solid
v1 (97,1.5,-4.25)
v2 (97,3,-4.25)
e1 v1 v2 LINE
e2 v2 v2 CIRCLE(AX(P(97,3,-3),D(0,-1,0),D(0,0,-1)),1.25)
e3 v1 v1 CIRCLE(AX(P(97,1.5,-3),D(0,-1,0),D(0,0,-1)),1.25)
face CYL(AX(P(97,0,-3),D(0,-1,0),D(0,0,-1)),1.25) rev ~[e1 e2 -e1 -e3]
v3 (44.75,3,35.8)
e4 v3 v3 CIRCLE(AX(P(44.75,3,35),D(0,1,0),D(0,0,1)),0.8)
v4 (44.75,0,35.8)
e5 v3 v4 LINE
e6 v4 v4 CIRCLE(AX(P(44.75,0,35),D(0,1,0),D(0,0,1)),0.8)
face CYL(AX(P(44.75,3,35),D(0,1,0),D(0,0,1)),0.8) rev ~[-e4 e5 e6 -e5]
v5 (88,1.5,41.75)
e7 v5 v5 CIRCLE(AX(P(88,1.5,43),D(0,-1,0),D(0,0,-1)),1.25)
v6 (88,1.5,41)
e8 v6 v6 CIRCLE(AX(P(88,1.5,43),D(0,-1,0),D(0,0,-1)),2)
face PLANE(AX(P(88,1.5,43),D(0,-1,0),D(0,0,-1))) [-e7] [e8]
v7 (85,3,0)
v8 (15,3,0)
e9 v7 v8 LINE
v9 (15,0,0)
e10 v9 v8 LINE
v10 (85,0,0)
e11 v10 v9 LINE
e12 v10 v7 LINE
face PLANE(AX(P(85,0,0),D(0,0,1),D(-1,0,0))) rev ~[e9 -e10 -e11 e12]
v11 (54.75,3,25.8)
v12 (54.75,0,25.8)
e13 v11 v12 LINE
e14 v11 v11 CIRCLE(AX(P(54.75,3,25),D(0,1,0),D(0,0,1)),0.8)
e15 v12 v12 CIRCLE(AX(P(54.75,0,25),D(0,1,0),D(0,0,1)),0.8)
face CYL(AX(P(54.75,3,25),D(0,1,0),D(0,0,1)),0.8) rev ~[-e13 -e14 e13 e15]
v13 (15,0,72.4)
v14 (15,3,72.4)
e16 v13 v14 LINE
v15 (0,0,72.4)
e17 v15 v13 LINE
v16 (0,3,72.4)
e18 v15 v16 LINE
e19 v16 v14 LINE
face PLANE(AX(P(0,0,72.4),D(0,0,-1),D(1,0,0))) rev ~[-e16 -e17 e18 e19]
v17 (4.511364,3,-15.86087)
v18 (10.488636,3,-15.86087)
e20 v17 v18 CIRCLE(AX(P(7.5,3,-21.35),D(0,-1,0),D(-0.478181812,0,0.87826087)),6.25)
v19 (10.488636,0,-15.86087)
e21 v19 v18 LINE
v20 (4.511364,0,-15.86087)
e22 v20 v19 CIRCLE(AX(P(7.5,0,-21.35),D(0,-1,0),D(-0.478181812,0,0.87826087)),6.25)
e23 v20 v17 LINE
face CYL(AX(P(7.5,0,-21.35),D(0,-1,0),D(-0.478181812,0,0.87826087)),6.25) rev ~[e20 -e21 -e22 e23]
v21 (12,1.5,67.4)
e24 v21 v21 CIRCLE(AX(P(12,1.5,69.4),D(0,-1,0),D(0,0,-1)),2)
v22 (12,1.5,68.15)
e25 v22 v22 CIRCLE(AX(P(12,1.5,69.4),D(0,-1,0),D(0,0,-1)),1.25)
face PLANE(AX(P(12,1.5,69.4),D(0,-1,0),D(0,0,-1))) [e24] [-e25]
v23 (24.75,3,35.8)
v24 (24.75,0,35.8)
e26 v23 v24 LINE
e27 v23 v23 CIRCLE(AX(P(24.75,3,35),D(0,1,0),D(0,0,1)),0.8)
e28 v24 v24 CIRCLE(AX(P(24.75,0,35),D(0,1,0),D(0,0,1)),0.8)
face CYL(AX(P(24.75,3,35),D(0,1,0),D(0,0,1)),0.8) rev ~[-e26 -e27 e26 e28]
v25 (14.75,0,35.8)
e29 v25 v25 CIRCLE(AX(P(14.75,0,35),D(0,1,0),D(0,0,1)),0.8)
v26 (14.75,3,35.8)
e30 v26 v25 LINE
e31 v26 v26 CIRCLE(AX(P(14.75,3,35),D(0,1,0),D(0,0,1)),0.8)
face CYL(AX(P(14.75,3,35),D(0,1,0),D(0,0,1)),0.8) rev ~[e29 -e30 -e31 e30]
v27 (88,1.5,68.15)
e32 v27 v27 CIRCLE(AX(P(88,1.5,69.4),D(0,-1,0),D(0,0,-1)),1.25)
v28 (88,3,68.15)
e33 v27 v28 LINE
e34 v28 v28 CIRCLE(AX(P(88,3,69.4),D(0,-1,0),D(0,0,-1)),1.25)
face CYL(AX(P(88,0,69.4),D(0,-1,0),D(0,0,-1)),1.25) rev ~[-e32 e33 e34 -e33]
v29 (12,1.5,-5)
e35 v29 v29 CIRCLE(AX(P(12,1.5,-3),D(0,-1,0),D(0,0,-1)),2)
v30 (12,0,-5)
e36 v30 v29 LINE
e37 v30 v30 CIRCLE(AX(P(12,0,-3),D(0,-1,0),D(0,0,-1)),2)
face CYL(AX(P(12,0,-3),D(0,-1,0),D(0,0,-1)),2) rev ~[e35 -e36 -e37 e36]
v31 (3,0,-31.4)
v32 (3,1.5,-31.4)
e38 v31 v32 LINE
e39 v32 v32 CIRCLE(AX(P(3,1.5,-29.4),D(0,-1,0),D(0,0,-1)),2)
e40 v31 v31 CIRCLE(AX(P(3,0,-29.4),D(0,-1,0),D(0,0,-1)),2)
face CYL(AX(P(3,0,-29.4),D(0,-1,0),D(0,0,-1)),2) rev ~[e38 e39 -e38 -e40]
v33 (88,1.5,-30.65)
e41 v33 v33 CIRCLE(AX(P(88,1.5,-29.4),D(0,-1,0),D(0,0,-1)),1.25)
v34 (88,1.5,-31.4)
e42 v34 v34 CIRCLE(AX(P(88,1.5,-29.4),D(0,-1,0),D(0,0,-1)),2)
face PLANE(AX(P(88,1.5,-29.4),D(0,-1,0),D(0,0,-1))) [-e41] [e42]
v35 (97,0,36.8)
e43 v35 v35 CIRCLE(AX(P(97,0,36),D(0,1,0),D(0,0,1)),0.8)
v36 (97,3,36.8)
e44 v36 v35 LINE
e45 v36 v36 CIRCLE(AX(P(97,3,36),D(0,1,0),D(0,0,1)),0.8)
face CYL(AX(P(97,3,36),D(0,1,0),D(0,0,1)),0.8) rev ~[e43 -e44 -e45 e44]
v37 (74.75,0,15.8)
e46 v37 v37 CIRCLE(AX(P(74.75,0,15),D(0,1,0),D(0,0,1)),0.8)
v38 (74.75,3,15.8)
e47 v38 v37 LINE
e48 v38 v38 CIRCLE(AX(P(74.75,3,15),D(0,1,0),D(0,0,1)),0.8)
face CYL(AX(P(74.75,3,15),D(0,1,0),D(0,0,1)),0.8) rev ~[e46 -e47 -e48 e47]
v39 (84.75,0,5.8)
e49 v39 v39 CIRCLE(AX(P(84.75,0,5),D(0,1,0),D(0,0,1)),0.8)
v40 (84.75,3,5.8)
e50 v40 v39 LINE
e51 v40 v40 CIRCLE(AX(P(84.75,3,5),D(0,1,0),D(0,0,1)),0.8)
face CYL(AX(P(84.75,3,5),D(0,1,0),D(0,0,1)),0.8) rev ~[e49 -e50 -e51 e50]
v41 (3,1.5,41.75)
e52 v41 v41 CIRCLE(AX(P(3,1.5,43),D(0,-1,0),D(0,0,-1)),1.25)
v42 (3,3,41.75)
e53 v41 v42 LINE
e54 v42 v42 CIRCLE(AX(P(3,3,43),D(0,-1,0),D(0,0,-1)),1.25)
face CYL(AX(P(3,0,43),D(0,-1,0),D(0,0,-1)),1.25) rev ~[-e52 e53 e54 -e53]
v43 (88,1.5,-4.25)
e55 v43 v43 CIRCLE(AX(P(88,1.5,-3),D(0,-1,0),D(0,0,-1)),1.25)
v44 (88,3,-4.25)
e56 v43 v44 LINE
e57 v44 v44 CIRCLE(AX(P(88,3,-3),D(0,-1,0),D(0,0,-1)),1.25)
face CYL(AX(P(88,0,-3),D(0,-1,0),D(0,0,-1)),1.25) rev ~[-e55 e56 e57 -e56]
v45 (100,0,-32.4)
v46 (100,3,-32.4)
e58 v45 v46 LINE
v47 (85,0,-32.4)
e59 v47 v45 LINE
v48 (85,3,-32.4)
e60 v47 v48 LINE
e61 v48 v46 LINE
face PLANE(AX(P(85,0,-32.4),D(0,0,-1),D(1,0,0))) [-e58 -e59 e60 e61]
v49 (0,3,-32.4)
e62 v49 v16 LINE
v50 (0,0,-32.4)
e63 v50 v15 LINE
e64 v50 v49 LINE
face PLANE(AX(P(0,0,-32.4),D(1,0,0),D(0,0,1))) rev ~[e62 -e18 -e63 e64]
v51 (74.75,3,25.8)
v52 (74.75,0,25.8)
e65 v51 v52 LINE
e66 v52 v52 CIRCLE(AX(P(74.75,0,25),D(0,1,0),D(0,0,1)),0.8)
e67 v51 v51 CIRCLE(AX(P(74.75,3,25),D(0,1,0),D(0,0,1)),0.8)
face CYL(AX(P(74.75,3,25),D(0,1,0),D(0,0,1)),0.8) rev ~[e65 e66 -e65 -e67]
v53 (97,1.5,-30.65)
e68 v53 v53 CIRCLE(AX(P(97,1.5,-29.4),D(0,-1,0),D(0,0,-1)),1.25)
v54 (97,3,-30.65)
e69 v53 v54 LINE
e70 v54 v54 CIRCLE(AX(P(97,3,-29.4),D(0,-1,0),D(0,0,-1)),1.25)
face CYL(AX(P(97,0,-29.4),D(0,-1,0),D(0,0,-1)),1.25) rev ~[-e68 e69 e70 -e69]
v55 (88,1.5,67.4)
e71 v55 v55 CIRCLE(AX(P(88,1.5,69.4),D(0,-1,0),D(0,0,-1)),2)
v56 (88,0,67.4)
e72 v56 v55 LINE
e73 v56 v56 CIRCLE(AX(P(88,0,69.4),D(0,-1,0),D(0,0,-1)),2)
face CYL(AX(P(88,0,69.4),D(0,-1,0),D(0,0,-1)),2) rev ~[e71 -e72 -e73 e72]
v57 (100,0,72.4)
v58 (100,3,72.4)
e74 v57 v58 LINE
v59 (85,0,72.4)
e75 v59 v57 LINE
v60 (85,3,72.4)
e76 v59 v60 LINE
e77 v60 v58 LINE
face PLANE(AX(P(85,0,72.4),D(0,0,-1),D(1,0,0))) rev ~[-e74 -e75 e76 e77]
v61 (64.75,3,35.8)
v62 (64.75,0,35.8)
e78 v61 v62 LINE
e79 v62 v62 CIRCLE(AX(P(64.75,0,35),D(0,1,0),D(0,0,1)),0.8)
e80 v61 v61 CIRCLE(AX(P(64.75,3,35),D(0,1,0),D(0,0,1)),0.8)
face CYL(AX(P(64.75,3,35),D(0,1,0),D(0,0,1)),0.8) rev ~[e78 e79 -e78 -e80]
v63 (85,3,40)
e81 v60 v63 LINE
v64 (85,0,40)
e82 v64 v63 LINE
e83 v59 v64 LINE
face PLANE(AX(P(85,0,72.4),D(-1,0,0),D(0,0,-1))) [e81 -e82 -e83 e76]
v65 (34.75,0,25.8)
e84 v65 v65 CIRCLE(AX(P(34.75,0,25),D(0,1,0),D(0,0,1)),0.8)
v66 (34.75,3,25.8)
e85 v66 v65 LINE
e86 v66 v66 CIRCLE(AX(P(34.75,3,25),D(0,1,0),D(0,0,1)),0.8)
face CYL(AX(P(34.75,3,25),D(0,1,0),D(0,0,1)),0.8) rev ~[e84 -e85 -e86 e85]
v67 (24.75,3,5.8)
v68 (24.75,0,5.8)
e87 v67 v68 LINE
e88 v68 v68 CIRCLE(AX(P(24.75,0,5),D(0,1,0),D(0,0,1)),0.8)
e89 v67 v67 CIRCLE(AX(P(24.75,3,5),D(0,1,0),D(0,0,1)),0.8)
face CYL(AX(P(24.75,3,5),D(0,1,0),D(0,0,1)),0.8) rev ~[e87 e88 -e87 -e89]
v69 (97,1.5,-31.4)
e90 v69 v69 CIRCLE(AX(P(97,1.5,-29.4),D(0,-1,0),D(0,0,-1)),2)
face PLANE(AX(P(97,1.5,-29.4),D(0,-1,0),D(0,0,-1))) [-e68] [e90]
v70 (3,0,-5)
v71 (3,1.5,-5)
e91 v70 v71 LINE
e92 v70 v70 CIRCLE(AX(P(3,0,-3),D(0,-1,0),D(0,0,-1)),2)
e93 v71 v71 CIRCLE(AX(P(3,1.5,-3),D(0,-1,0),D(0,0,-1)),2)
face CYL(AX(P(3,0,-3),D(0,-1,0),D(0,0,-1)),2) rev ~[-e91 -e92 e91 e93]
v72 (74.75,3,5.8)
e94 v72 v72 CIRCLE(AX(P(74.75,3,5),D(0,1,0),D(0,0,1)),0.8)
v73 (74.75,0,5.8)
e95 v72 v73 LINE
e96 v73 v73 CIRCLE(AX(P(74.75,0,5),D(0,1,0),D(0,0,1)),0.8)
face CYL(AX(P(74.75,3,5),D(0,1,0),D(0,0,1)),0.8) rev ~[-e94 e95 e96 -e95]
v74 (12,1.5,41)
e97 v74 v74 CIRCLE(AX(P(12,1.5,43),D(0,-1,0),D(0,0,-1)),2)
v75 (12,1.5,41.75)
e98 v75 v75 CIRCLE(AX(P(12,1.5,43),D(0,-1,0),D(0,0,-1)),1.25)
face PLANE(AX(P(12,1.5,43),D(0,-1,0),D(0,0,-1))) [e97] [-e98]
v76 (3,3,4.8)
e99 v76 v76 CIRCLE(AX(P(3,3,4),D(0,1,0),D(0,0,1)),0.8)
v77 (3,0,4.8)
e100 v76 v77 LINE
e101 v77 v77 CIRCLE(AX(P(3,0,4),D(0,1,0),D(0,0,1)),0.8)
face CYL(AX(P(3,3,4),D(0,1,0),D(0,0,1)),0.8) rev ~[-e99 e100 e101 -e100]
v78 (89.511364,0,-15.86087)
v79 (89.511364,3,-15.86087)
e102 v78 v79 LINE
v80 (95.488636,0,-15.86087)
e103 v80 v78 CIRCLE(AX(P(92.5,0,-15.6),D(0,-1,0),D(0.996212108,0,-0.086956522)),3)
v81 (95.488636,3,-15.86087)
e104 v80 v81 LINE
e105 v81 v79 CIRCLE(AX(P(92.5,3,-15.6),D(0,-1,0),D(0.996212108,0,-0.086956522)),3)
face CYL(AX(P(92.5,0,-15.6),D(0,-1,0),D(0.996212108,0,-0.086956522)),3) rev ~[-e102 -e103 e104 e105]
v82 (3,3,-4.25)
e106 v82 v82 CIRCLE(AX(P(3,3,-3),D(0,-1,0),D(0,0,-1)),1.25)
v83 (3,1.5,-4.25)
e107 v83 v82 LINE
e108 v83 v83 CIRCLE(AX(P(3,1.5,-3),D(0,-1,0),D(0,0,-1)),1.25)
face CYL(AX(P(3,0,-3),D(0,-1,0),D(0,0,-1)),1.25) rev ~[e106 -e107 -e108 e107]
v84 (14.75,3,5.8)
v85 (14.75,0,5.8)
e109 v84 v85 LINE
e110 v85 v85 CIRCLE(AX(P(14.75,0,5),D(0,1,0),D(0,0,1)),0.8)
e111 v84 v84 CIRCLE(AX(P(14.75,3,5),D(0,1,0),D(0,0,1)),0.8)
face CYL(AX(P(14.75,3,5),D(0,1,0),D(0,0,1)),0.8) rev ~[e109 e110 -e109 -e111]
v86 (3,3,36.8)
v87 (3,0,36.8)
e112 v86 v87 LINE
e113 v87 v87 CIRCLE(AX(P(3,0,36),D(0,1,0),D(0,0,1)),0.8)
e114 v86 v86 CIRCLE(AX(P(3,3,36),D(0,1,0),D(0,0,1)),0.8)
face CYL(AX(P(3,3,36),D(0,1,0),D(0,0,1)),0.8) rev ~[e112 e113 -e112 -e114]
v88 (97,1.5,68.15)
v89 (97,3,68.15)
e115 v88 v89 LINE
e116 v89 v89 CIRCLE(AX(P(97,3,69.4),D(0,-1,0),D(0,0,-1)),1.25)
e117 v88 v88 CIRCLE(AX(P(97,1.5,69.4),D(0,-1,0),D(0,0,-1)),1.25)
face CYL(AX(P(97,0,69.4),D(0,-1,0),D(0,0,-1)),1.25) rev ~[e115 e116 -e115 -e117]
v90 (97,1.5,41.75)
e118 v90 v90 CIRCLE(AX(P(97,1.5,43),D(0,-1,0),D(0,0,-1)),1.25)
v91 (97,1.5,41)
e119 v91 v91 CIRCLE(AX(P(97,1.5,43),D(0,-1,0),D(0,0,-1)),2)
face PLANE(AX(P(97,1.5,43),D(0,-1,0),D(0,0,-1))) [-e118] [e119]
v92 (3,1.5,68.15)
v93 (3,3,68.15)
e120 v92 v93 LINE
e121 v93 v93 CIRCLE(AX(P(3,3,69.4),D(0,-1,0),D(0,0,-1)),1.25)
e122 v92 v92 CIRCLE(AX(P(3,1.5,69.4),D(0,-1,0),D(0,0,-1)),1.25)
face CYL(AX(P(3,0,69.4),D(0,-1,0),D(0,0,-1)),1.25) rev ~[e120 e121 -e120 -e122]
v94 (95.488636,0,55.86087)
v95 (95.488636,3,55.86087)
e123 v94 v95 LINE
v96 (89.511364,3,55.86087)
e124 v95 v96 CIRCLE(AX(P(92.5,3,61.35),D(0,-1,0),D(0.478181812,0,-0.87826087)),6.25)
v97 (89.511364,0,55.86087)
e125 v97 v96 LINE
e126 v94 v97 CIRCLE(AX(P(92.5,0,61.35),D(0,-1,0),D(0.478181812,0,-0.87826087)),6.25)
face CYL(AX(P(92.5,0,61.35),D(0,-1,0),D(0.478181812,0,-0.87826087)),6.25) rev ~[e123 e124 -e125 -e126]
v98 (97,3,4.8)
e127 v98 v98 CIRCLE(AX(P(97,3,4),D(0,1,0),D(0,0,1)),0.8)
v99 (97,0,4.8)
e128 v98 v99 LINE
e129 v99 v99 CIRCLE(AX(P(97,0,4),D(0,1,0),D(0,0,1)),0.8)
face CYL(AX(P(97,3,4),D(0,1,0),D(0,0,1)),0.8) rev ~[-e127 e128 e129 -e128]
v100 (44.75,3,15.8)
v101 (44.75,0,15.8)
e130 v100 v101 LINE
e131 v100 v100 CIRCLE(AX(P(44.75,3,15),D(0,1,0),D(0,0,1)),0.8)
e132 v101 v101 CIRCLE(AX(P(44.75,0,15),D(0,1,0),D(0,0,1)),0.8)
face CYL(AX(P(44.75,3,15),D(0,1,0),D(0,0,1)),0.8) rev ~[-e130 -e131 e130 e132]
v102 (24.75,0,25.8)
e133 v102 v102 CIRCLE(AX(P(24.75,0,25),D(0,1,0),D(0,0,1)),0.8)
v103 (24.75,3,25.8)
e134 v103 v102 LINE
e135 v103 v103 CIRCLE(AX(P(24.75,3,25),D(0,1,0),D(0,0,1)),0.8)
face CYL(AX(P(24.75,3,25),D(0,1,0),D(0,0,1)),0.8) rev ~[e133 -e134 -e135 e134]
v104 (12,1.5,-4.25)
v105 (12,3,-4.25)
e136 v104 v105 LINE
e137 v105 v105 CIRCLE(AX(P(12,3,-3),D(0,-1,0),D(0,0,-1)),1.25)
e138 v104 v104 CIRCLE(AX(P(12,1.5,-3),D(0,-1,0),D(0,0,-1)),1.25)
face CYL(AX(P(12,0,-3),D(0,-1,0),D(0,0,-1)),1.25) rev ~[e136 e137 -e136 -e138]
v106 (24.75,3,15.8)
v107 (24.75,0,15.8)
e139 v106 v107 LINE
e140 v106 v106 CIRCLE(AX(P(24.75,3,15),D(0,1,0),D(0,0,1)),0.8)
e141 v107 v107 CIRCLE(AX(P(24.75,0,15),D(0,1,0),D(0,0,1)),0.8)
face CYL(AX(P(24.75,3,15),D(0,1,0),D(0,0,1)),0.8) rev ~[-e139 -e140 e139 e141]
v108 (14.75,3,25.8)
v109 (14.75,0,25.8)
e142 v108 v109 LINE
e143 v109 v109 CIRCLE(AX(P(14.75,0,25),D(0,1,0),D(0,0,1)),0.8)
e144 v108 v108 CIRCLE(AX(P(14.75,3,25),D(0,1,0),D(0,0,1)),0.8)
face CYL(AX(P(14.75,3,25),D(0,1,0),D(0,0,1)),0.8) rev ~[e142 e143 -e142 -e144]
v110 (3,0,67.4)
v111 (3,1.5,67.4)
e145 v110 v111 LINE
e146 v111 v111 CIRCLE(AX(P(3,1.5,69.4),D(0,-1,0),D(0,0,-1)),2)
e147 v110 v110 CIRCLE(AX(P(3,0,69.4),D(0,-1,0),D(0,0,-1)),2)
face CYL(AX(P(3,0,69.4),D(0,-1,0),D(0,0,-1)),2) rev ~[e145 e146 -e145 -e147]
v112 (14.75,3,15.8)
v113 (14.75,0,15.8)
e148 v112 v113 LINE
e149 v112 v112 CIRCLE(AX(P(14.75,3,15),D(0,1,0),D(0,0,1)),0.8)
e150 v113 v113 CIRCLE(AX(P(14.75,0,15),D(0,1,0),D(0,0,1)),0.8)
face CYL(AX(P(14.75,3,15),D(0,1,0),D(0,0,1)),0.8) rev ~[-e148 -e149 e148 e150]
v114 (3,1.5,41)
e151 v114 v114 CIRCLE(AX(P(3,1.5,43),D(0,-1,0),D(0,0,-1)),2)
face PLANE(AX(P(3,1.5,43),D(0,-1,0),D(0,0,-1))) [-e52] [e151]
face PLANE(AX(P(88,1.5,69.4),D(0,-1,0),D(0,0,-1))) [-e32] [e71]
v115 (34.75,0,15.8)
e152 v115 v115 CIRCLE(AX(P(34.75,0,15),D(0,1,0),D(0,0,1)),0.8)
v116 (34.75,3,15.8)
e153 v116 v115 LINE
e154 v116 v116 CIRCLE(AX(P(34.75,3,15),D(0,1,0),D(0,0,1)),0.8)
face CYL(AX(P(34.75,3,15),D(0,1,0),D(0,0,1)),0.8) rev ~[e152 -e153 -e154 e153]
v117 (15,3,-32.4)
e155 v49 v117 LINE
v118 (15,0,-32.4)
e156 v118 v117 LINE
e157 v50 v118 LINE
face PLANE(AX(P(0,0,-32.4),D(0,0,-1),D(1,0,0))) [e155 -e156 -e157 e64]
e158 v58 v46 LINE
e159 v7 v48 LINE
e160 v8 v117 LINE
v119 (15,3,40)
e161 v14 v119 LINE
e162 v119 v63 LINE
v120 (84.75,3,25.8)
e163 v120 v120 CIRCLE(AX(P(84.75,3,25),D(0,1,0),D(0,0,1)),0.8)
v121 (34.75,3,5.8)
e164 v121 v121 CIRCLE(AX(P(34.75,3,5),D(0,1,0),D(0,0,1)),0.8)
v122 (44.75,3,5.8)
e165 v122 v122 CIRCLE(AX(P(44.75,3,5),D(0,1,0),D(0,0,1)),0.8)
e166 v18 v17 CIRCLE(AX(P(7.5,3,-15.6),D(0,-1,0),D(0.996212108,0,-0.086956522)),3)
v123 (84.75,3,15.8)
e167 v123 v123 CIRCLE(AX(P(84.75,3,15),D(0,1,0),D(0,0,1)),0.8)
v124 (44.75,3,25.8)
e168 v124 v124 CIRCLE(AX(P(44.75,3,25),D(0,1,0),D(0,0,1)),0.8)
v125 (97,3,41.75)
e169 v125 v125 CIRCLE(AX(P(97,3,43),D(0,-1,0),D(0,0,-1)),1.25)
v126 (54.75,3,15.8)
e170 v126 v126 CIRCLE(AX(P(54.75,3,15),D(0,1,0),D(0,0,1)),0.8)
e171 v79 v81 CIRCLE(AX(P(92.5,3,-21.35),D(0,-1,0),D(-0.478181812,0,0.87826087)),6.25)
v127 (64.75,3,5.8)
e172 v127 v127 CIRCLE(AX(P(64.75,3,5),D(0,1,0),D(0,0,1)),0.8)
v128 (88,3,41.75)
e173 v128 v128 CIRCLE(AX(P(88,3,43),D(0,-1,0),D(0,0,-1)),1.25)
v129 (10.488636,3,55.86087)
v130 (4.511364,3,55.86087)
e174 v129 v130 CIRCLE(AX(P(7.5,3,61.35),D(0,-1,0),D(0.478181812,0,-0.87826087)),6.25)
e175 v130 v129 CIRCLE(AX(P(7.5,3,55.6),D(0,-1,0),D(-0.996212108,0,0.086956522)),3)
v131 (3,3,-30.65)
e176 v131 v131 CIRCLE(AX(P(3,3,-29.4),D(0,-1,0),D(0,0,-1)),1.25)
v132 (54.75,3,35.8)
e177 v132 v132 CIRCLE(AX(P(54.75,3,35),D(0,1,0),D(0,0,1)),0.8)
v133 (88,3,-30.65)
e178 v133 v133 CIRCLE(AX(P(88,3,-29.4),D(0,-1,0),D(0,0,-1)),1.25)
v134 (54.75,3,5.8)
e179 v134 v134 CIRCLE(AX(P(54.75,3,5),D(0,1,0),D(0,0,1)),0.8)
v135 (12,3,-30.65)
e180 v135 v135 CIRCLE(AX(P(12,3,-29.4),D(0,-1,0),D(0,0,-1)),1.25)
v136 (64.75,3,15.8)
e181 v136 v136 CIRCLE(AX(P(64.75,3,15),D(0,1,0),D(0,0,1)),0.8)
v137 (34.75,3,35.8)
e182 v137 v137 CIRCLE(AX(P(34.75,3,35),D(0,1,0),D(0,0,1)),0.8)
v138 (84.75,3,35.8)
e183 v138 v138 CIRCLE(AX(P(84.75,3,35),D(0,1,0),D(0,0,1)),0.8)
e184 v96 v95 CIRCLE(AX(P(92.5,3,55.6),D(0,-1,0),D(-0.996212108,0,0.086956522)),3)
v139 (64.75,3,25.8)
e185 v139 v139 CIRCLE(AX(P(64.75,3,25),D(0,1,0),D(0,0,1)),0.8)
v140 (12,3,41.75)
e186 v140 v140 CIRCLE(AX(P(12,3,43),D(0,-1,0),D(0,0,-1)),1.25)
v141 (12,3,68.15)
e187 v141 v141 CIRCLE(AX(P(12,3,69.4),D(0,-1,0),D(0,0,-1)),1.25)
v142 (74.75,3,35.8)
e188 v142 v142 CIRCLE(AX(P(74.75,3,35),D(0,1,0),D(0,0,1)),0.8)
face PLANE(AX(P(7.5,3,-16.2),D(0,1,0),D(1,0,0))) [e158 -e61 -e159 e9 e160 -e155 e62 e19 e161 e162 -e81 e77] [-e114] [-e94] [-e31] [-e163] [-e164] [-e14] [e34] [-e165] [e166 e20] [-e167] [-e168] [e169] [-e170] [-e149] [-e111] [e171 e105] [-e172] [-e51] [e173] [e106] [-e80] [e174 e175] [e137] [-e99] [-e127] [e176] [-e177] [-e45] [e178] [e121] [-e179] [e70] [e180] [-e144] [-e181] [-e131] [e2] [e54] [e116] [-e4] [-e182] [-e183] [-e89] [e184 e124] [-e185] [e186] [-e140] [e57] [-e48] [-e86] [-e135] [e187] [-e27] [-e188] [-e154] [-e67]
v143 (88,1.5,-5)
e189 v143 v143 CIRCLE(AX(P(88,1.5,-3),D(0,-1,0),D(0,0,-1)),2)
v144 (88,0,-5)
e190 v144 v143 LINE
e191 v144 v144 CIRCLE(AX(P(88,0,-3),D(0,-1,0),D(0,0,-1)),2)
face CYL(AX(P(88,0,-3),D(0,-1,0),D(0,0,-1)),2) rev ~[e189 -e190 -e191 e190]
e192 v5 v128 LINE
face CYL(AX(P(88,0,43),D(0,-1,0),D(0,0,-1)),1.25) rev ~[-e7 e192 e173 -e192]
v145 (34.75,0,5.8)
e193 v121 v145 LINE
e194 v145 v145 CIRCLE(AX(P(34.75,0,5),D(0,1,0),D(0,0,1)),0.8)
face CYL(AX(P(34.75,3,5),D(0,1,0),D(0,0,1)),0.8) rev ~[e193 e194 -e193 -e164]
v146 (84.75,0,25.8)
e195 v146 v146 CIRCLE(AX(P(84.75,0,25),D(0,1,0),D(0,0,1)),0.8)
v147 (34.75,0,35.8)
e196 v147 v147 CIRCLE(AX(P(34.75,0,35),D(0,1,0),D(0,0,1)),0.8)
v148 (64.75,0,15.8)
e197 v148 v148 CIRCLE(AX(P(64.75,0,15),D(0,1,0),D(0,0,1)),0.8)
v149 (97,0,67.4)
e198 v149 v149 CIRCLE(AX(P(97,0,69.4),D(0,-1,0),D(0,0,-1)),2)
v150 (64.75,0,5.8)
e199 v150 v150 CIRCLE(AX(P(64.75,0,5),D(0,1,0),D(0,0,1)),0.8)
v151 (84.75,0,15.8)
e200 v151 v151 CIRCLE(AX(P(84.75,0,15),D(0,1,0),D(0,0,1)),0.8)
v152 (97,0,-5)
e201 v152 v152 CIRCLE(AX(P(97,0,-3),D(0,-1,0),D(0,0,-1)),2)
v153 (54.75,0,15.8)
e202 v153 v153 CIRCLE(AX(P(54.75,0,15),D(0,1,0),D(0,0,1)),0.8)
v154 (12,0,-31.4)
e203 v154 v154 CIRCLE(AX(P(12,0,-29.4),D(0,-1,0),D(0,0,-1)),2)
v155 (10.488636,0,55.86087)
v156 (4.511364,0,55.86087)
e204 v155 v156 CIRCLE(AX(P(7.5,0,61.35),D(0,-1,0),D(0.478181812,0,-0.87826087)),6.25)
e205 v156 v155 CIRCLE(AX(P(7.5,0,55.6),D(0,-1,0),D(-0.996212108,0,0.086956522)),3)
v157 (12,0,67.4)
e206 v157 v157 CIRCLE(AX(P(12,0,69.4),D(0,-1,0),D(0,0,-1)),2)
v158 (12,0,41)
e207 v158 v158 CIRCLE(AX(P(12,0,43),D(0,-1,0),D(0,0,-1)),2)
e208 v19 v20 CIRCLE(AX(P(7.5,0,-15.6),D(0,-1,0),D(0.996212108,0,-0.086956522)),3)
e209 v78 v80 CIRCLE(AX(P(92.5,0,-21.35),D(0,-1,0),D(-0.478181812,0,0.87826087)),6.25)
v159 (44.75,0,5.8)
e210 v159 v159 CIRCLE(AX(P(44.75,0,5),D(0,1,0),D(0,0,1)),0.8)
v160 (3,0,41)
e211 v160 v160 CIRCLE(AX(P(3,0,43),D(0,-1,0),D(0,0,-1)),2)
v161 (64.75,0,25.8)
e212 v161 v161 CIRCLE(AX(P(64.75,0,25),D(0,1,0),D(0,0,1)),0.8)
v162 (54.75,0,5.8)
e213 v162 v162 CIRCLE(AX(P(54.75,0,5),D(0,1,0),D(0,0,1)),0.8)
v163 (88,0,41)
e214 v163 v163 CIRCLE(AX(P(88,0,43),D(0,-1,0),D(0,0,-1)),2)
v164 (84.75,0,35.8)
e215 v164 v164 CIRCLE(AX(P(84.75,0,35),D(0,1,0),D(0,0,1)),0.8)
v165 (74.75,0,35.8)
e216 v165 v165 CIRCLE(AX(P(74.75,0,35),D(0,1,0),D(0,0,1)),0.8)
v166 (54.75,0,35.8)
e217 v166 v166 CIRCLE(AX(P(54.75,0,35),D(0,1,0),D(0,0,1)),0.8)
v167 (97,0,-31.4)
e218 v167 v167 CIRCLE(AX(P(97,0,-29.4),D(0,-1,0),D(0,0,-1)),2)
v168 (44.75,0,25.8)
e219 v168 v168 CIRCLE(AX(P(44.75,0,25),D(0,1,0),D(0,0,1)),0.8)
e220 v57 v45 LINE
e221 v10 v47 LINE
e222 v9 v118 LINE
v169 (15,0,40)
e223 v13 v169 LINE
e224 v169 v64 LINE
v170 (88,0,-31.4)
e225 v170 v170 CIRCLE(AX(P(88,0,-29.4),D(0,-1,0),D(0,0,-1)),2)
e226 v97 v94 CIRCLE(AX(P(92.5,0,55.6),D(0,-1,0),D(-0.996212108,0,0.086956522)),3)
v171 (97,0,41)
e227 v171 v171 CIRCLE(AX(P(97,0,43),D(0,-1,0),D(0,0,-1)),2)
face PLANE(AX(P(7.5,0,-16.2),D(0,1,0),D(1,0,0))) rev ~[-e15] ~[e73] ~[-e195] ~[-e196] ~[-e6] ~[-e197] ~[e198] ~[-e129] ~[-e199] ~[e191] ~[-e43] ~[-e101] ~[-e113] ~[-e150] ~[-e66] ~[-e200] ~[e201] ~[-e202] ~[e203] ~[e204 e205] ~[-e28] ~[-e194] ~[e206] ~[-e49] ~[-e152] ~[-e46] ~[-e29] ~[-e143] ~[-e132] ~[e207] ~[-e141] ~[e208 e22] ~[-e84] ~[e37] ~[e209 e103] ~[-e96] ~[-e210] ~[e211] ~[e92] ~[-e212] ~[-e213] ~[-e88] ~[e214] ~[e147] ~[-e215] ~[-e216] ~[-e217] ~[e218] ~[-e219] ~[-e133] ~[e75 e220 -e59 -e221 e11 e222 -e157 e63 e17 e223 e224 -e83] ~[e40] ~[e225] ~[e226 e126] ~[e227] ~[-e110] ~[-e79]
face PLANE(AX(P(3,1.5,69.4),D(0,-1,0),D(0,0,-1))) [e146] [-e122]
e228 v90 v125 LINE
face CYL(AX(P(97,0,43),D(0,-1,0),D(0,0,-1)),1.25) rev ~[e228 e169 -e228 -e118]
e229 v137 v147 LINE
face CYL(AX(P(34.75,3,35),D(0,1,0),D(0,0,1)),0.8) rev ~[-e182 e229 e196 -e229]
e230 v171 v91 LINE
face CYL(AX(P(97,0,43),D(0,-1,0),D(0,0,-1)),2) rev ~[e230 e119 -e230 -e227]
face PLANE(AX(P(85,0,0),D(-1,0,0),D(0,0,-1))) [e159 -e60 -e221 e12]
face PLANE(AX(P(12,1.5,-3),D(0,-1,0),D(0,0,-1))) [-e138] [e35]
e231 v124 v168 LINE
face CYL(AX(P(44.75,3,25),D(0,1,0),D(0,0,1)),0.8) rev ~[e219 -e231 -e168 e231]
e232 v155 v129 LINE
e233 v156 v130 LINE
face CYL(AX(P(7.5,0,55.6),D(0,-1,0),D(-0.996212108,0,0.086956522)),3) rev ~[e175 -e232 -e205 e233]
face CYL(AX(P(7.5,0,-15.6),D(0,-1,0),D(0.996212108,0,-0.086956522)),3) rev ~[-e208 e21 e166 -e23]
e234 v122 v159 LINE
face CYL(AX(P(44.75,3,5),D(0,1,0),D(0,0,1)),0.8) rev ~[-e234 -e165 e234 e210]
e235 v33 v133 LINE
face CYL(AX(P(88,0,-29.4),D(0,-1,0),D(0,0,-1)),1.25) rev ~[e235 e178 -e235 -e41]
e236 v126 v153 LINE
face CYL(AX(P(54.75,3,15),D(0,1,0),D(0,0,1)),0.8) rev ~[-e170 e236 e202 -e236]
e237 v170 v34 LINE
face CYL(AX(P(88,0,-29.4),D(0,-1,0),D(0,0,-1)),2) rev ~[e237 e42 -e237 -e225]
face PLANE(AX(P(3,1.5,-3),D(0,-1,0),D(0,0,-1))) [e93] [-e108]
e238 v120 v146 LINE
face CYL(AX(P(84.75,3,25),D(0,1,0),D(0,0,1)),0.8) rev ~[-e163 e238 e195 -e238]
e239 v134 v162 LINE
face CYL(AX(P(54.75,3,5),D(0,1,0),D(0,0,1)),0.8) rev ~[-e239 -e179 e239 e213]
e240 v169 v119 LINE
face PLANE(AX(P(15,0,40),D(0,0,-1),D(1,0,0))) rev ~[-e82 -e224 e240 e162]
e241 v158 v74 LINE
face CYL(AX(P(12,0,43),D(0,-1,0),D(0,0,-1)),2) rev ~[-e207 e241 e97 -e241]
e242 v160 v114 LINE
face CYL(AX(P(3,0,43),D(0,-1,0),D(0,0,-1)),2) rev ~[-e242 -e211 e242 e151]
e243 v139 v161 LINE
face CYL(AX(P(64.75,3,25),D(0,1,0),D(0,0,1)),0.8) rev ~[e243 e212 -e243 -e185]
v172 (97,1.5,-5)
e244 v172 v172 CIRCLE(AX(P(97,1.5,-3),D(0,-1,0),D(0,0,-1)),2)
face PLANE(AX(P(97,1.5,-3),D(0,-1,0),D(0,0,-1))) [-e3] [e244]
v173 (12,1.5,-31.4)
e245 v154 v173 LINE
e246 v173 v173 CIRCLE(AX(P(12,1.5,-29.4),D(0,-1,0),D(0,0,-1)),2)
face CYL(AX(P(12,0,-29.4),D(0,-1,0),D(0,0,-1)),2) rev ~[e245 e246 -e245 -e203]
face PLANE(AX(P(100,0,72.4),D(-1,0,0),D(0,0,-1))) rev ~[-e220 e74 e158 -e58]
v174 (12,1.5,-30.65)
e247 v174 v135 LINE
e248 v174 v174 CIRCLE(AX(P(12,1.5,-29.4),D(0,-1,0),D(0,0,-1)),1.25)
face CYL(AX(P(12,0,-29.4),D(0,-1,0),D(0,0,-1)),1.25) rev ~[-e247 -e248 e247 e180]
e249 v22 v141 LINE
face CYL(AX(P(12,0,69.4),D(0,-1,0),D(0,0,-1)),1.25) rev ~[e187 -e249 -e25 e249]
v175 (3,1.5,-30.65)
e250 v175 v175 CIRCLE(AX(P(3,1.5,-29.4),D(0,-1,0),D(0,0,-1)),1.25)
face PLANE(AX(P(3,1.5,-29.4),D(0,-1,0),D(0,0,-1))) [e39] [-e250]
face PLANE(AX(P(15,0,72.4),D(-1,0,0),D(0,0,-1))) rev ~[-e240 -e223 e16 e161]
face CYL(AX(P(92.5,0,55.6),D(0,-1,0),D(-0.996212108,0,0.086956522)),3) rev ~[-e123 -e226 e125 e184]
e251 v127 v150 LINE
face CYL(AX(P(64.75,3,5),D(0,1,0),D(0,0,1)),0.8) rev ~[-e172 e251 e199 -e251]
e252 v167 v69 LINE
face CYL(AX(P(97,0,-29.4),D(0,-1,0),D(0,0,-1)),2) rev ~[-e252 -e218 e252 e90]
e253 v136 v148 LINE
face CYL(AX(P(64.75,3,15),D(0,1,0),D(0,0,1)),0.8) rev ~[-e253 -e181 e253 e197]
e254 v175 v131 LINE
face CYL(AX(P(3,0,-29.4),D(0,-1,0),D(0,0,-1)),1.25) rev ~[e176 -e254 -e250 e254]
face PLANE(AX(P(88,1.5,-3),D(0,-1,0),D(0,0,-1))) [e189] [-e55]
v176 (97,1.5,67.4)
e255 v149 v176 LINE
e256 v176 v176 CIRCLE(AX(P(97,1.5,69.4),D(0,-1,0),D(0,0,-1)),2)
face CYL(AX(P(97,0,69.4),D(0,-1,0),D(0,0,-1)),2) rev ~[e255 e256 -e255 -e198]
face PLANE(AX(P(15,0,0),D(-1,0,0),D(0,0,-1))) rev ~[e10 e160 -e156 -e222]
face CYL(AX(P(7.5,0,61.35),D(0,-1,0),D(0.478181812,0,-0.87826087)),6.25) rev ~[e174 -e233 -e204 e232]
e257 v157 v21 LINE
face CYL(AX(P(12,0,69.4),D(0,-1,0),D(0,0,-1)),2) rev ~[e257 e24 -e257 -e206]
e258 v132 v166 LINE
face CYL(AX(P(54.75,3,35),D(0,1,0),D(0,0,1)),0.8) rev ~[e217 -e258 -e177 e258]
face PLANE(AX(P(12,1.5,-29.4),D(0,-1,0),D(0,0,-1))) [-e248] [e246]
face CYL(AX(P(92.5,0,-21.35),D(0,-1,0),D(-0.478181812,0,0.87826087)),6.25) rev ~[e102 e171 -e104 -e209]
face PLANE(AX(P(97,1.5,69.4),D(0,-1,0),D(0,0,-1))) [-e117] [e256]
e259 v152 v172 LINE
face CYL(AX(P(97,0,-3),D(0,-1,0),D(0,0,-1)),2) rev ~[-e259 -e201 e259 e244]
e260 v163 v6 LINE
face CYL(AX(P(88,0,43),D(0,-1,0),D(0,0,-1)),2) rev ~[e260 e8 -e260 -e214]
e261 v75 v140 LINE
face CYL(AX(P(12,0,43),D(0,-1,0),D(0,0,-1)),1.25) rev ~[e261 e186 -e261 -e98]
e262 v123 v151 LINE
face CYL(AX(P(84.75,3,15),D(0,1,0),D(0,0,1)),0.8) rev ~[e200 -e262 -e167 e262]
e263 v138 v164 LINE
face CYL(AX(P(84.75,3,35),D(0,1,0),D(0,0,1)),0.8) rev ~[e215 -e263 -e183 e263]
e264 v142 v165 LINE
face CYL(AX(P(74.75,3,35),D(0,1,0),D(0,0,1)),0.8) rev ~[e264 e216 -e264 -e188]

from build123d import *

# Parameters (mm, degrees)
SKETCH_1_W          = 15
SKETCH_1_H          = 32.4
EXTRUDE_1_DEPTH     = 3
SKETCH_2_R          = 6.25
SKETCH_2_R_2        = 1.25
SKETCH_2_R_3        = 3
CUT_EXTRUDE_1_DEPTH = 124.493967464
SKETCH_2_3_R        = 2
CUT_EXTRUDE_2_DEPTH = 1.5
SKETCH_4_R          = 0.8
CUT_EXTRUDE_3_DEPTH = 124.493967464
SKETCH_5_R          = 0.8
CUT_EXTRUDE_4_DEPTH = 3


with BuildPart() as part:
    # 草图1 → 凸台-拉伸1 (new body)
    with BuildSketch(Plane(origin=(0, 0, 0), x_dir=(1, 0, 0), z_dir=(0, 1, 0))):
        with Locations((7.5, 16.2)):
            Rectangle(SKETCH_1_W, SKETCH_1_H)
        Polygon((15, 0), (0, 0), (0, -40), (15, -40), (85, -40), (100, -40), (100, 0), (85, 0), align=None)
        with Locations((7.5, -56.2)):
            Rectangle(SKETCH_1_W, SKETCH_1_H)
        with Locations((92.5, 16.2)):
            Rectangle(SKETCH_1_W, SKETCH_1_H)
        with Locations((92.5, -56.2)):
            Rectangle(SKETCH_1_W, SKETCH_1_H)
    extrude(amount=EXTRUDE_1_DEPTH)

    # 草图2 → 切除-拉伸1 (cut, through all)
    with BuildSketch(Plane.XZ):
        with Locations((7.5, -21.35)):
            Circle(SKETCH_2_R)
        with Locations((3, -3)):
            Circle(SKETCH_2_R_2)
        with Locations((12, -3)):
            Circle(SKETCH_2_R_2)
        with Locations((12, -29.4)):
            Circle(SKETCH_2_R_2)
        with Locations((3, -29.4)):
            Circle(SKETCH_2_R_2)
        with Locations((7.5, -15.6)):
            Circle(SKETCH_2_R_3)
        with Locations((92.5, -21.35)):
            Circle(SKETCH_2_R)
        with Locations((92.5, -15.6)):
            Circle(SKETCH_2_R_3)
        with Locations((88, -3)):
            Circle(SKETCH_2_R_2)
        with Locations((97, -3)):
            Circle(SKETCH_2_R_2)
        with Locations((88, -29.4)):
            Circle(SKETCH_2_R_2)
        with Locations((97, -29.4)):
            Circle(SKETCH_2_R_2)
        with Locations((92.5, 61.35)):
            Circle(SKETCH_2_R)
        with Locations((92.5, 55.6)):
            Circle(SKETCH_2_R_3)
        with Locations((88, 69.4)):
            Circle(SKETCH_2_R_2)
        with Locations((97, 69.4)):
            Circle(SKETCH_2_R_2)
        with Locations((88, 43)):
            Circle(SKETCH_2_R_2)
        with Locations((97, 43)):
            Circle(SKETCH_2_R_2)
        with Locations((3, 69.4)):
            Circle(SKETCH_2_R_2)
        with Locations((12, 69.4)):
            Circle(SKETCH_2_R_2)
        with Locations((7.5, 61.35)):
            Circle(SKETCH_2_R)
        with Locations((7.5, 55.6)):
            Circle(SKETCH_2_R_3)
        with Locations((3, 43)):
            Circle(SKETCH_2_R_2)
        with Locations((12, 43)):
            Circle(SKETCH_2_R_2)
    extrude(amount=-CUT_EXTRUDE_1_DEPTH, mode=Mode.SUBTRACT)

    # 草图2<3> → 切除-拉伸2 (cut)
    with BuildSketch(Plane.XZ):
        with Locations((3, -29.4)):
            Circle(SKETCH_2_3_R)
        with Locations((3, -3)):
            Circle(SKETCH_2_3_R)
        with Locations((12, -3)):
            Circle(SKETCH_2_3_R)
        with Locations((12, -29.4)):
            Circle(SKETCH_2_3_R)
        with Locations((88, -3)):
            Circle(SKETCH_2_3_R)
        with Locations((97, -3)):
            Circle(SKETCH_2_3_R)
        with Locations((88, -29.4)):
            Circle(SKETCH_2_3_R)
        with Locations((97, -29.4)):
            Circle(SKETCH_2_3_R)
        with Locations((88, 69.4)):
            Circle(SKETCH_2_3_R)
        with Locations((97, 69.4)):
            Circle(SKETCH_2_3_R)
        with Locations((88, 43)):
            Circle(SKETCH_2_3_R)
        with Locations((97, 43)):
            Circle(SKETCH_2_3_R)
        with Locations((3, 69.4)):
            Circle(SKETCH_2_3_R)
        with Locations((12, 69.4)):
            Circle(SKETCH_2_3_R)
        with Locations((3, 43)):
            Circle(SKETCH_2_3_R)
        with Locations((12, 43)):
            Circle(SKETCH_2_3_R)
    extrude(amount=-CUT_EXTRUDE_2_DEPTH, mode=Mode.SUBTRACT)

    # 草图4 → 切除-拉伸3 (cut, through all)
    with BuildSketch(Plane(origin=(0, 3, 0), x_dir=(1, 0, 0), z_dir=(0, 1, 0))):
        with Locations((3, -4)):
            Circle(SKETCH_4_R)
        with Locations((3, -36)):
            Circle(SKETCH_4_R)
        with Locations((97, -36)):
            Circle(SKETCH_4_R)
        with Locations((97, -4)):
            Circle(SKETCH_4_R)
    extrude(amount=-CUT_EXTRUDE_3_DEPTH, mode=Mode.SUBTRACT)

    # 草图5 → 切除-拉伸4 (cut)
    with BuildSketch(Plane(origin=(0, 3, 0), x_dir=(1, 0, 0), z_dir=(0, 1, 0))):
        with Locations((14.75, -5)):
            Circle(SKETCH_5_R)
        with Locations((24.75, -5)):
            Circle(SKETCH_5_R)
        with Locations((34.75, -5)):
            Circle(SKETCH_5_R)
        with Locations((44.75, -5)):
            Circle(SKETCH_5_R)
        with Locations((54.75, -5)):
            Circle(SKETCH_5_R)
        with Locations((64.75, -5)):
            Circle(SKETCH_5_R)
        with Locations((74.75, -5)):
            Circle(SKETCH_5_R)
        with Locations((84.75, -5)):
            Circle(SKETCH_5_R)
        with Locations((24.75, -15)):
            Circle(SKETCH_5_R)
        with Locations((34.75, -15)):
            Circle(SKETCH_5_R)
        with Locations((44.75, -15)):
            Circle(SKETCH_5_R)
        with Locations((54.75, -15)):
            Circle(SKETCH_5_R)
        with Locations((64.75, -15)):
            Circle(SKETCH_5_R)
        with Locations((74.75, -15)):
            Circle(SKETCH_5_R)
        with Locations((84.75, -15)):
            Circle(SKETCH_5_R)
        with Locations((24.75, -25)):
            Circle(SKETCH_5_R)
        with Locations((34.75, -25)):
            Circle(SKETCH_5_R)
        with Locations((44.75, -25)):
            Circle(SKETCH_5_R)
        with Locations((54.75, -25)):
            Circle(SKETCH_5_R)
        with Locations((64.75, -25)):
            Circle(SKETCH_5_R)
        with Locations((74.75, -25)):
            Circle(SKETCH_5_R)
        with Locations((84.75, -25)):
            Circle(SKETCH_5_R)
        with Locations((24.75, -35)):
            Circle(SKETCH_5_R)
        with Locations((34.75, -35)):
            Circle(SKETCH_5_R)
        with Locations((44.75, -35)):
            Circle(SKETCH_5_R)
        with Locations((54.75, -35)):
            Circle(SKETCH_5_R)
        with Locations((64.75, -35)):
            Circle(SKETCH_5_R)
        with Locations((74.75, -35)):
            Circle(SKETCH_5_R)
        with Locations((84.75, -35)):
            Circle(SKETCH_5_R)
        with Locations((14.75, -15)):
            Circle(SKETCH_5_R)
        with Locations((14.75, -25)):
            Circle(SKETCH_5_R)
        with Locations((14.75, -35)):
            Circle(SKETCH_5_R)
    extrude(amount=-CUT_EXTRUDE_4_DEPTH, mode=Mode.SUBTRACT)


solid = part.part
